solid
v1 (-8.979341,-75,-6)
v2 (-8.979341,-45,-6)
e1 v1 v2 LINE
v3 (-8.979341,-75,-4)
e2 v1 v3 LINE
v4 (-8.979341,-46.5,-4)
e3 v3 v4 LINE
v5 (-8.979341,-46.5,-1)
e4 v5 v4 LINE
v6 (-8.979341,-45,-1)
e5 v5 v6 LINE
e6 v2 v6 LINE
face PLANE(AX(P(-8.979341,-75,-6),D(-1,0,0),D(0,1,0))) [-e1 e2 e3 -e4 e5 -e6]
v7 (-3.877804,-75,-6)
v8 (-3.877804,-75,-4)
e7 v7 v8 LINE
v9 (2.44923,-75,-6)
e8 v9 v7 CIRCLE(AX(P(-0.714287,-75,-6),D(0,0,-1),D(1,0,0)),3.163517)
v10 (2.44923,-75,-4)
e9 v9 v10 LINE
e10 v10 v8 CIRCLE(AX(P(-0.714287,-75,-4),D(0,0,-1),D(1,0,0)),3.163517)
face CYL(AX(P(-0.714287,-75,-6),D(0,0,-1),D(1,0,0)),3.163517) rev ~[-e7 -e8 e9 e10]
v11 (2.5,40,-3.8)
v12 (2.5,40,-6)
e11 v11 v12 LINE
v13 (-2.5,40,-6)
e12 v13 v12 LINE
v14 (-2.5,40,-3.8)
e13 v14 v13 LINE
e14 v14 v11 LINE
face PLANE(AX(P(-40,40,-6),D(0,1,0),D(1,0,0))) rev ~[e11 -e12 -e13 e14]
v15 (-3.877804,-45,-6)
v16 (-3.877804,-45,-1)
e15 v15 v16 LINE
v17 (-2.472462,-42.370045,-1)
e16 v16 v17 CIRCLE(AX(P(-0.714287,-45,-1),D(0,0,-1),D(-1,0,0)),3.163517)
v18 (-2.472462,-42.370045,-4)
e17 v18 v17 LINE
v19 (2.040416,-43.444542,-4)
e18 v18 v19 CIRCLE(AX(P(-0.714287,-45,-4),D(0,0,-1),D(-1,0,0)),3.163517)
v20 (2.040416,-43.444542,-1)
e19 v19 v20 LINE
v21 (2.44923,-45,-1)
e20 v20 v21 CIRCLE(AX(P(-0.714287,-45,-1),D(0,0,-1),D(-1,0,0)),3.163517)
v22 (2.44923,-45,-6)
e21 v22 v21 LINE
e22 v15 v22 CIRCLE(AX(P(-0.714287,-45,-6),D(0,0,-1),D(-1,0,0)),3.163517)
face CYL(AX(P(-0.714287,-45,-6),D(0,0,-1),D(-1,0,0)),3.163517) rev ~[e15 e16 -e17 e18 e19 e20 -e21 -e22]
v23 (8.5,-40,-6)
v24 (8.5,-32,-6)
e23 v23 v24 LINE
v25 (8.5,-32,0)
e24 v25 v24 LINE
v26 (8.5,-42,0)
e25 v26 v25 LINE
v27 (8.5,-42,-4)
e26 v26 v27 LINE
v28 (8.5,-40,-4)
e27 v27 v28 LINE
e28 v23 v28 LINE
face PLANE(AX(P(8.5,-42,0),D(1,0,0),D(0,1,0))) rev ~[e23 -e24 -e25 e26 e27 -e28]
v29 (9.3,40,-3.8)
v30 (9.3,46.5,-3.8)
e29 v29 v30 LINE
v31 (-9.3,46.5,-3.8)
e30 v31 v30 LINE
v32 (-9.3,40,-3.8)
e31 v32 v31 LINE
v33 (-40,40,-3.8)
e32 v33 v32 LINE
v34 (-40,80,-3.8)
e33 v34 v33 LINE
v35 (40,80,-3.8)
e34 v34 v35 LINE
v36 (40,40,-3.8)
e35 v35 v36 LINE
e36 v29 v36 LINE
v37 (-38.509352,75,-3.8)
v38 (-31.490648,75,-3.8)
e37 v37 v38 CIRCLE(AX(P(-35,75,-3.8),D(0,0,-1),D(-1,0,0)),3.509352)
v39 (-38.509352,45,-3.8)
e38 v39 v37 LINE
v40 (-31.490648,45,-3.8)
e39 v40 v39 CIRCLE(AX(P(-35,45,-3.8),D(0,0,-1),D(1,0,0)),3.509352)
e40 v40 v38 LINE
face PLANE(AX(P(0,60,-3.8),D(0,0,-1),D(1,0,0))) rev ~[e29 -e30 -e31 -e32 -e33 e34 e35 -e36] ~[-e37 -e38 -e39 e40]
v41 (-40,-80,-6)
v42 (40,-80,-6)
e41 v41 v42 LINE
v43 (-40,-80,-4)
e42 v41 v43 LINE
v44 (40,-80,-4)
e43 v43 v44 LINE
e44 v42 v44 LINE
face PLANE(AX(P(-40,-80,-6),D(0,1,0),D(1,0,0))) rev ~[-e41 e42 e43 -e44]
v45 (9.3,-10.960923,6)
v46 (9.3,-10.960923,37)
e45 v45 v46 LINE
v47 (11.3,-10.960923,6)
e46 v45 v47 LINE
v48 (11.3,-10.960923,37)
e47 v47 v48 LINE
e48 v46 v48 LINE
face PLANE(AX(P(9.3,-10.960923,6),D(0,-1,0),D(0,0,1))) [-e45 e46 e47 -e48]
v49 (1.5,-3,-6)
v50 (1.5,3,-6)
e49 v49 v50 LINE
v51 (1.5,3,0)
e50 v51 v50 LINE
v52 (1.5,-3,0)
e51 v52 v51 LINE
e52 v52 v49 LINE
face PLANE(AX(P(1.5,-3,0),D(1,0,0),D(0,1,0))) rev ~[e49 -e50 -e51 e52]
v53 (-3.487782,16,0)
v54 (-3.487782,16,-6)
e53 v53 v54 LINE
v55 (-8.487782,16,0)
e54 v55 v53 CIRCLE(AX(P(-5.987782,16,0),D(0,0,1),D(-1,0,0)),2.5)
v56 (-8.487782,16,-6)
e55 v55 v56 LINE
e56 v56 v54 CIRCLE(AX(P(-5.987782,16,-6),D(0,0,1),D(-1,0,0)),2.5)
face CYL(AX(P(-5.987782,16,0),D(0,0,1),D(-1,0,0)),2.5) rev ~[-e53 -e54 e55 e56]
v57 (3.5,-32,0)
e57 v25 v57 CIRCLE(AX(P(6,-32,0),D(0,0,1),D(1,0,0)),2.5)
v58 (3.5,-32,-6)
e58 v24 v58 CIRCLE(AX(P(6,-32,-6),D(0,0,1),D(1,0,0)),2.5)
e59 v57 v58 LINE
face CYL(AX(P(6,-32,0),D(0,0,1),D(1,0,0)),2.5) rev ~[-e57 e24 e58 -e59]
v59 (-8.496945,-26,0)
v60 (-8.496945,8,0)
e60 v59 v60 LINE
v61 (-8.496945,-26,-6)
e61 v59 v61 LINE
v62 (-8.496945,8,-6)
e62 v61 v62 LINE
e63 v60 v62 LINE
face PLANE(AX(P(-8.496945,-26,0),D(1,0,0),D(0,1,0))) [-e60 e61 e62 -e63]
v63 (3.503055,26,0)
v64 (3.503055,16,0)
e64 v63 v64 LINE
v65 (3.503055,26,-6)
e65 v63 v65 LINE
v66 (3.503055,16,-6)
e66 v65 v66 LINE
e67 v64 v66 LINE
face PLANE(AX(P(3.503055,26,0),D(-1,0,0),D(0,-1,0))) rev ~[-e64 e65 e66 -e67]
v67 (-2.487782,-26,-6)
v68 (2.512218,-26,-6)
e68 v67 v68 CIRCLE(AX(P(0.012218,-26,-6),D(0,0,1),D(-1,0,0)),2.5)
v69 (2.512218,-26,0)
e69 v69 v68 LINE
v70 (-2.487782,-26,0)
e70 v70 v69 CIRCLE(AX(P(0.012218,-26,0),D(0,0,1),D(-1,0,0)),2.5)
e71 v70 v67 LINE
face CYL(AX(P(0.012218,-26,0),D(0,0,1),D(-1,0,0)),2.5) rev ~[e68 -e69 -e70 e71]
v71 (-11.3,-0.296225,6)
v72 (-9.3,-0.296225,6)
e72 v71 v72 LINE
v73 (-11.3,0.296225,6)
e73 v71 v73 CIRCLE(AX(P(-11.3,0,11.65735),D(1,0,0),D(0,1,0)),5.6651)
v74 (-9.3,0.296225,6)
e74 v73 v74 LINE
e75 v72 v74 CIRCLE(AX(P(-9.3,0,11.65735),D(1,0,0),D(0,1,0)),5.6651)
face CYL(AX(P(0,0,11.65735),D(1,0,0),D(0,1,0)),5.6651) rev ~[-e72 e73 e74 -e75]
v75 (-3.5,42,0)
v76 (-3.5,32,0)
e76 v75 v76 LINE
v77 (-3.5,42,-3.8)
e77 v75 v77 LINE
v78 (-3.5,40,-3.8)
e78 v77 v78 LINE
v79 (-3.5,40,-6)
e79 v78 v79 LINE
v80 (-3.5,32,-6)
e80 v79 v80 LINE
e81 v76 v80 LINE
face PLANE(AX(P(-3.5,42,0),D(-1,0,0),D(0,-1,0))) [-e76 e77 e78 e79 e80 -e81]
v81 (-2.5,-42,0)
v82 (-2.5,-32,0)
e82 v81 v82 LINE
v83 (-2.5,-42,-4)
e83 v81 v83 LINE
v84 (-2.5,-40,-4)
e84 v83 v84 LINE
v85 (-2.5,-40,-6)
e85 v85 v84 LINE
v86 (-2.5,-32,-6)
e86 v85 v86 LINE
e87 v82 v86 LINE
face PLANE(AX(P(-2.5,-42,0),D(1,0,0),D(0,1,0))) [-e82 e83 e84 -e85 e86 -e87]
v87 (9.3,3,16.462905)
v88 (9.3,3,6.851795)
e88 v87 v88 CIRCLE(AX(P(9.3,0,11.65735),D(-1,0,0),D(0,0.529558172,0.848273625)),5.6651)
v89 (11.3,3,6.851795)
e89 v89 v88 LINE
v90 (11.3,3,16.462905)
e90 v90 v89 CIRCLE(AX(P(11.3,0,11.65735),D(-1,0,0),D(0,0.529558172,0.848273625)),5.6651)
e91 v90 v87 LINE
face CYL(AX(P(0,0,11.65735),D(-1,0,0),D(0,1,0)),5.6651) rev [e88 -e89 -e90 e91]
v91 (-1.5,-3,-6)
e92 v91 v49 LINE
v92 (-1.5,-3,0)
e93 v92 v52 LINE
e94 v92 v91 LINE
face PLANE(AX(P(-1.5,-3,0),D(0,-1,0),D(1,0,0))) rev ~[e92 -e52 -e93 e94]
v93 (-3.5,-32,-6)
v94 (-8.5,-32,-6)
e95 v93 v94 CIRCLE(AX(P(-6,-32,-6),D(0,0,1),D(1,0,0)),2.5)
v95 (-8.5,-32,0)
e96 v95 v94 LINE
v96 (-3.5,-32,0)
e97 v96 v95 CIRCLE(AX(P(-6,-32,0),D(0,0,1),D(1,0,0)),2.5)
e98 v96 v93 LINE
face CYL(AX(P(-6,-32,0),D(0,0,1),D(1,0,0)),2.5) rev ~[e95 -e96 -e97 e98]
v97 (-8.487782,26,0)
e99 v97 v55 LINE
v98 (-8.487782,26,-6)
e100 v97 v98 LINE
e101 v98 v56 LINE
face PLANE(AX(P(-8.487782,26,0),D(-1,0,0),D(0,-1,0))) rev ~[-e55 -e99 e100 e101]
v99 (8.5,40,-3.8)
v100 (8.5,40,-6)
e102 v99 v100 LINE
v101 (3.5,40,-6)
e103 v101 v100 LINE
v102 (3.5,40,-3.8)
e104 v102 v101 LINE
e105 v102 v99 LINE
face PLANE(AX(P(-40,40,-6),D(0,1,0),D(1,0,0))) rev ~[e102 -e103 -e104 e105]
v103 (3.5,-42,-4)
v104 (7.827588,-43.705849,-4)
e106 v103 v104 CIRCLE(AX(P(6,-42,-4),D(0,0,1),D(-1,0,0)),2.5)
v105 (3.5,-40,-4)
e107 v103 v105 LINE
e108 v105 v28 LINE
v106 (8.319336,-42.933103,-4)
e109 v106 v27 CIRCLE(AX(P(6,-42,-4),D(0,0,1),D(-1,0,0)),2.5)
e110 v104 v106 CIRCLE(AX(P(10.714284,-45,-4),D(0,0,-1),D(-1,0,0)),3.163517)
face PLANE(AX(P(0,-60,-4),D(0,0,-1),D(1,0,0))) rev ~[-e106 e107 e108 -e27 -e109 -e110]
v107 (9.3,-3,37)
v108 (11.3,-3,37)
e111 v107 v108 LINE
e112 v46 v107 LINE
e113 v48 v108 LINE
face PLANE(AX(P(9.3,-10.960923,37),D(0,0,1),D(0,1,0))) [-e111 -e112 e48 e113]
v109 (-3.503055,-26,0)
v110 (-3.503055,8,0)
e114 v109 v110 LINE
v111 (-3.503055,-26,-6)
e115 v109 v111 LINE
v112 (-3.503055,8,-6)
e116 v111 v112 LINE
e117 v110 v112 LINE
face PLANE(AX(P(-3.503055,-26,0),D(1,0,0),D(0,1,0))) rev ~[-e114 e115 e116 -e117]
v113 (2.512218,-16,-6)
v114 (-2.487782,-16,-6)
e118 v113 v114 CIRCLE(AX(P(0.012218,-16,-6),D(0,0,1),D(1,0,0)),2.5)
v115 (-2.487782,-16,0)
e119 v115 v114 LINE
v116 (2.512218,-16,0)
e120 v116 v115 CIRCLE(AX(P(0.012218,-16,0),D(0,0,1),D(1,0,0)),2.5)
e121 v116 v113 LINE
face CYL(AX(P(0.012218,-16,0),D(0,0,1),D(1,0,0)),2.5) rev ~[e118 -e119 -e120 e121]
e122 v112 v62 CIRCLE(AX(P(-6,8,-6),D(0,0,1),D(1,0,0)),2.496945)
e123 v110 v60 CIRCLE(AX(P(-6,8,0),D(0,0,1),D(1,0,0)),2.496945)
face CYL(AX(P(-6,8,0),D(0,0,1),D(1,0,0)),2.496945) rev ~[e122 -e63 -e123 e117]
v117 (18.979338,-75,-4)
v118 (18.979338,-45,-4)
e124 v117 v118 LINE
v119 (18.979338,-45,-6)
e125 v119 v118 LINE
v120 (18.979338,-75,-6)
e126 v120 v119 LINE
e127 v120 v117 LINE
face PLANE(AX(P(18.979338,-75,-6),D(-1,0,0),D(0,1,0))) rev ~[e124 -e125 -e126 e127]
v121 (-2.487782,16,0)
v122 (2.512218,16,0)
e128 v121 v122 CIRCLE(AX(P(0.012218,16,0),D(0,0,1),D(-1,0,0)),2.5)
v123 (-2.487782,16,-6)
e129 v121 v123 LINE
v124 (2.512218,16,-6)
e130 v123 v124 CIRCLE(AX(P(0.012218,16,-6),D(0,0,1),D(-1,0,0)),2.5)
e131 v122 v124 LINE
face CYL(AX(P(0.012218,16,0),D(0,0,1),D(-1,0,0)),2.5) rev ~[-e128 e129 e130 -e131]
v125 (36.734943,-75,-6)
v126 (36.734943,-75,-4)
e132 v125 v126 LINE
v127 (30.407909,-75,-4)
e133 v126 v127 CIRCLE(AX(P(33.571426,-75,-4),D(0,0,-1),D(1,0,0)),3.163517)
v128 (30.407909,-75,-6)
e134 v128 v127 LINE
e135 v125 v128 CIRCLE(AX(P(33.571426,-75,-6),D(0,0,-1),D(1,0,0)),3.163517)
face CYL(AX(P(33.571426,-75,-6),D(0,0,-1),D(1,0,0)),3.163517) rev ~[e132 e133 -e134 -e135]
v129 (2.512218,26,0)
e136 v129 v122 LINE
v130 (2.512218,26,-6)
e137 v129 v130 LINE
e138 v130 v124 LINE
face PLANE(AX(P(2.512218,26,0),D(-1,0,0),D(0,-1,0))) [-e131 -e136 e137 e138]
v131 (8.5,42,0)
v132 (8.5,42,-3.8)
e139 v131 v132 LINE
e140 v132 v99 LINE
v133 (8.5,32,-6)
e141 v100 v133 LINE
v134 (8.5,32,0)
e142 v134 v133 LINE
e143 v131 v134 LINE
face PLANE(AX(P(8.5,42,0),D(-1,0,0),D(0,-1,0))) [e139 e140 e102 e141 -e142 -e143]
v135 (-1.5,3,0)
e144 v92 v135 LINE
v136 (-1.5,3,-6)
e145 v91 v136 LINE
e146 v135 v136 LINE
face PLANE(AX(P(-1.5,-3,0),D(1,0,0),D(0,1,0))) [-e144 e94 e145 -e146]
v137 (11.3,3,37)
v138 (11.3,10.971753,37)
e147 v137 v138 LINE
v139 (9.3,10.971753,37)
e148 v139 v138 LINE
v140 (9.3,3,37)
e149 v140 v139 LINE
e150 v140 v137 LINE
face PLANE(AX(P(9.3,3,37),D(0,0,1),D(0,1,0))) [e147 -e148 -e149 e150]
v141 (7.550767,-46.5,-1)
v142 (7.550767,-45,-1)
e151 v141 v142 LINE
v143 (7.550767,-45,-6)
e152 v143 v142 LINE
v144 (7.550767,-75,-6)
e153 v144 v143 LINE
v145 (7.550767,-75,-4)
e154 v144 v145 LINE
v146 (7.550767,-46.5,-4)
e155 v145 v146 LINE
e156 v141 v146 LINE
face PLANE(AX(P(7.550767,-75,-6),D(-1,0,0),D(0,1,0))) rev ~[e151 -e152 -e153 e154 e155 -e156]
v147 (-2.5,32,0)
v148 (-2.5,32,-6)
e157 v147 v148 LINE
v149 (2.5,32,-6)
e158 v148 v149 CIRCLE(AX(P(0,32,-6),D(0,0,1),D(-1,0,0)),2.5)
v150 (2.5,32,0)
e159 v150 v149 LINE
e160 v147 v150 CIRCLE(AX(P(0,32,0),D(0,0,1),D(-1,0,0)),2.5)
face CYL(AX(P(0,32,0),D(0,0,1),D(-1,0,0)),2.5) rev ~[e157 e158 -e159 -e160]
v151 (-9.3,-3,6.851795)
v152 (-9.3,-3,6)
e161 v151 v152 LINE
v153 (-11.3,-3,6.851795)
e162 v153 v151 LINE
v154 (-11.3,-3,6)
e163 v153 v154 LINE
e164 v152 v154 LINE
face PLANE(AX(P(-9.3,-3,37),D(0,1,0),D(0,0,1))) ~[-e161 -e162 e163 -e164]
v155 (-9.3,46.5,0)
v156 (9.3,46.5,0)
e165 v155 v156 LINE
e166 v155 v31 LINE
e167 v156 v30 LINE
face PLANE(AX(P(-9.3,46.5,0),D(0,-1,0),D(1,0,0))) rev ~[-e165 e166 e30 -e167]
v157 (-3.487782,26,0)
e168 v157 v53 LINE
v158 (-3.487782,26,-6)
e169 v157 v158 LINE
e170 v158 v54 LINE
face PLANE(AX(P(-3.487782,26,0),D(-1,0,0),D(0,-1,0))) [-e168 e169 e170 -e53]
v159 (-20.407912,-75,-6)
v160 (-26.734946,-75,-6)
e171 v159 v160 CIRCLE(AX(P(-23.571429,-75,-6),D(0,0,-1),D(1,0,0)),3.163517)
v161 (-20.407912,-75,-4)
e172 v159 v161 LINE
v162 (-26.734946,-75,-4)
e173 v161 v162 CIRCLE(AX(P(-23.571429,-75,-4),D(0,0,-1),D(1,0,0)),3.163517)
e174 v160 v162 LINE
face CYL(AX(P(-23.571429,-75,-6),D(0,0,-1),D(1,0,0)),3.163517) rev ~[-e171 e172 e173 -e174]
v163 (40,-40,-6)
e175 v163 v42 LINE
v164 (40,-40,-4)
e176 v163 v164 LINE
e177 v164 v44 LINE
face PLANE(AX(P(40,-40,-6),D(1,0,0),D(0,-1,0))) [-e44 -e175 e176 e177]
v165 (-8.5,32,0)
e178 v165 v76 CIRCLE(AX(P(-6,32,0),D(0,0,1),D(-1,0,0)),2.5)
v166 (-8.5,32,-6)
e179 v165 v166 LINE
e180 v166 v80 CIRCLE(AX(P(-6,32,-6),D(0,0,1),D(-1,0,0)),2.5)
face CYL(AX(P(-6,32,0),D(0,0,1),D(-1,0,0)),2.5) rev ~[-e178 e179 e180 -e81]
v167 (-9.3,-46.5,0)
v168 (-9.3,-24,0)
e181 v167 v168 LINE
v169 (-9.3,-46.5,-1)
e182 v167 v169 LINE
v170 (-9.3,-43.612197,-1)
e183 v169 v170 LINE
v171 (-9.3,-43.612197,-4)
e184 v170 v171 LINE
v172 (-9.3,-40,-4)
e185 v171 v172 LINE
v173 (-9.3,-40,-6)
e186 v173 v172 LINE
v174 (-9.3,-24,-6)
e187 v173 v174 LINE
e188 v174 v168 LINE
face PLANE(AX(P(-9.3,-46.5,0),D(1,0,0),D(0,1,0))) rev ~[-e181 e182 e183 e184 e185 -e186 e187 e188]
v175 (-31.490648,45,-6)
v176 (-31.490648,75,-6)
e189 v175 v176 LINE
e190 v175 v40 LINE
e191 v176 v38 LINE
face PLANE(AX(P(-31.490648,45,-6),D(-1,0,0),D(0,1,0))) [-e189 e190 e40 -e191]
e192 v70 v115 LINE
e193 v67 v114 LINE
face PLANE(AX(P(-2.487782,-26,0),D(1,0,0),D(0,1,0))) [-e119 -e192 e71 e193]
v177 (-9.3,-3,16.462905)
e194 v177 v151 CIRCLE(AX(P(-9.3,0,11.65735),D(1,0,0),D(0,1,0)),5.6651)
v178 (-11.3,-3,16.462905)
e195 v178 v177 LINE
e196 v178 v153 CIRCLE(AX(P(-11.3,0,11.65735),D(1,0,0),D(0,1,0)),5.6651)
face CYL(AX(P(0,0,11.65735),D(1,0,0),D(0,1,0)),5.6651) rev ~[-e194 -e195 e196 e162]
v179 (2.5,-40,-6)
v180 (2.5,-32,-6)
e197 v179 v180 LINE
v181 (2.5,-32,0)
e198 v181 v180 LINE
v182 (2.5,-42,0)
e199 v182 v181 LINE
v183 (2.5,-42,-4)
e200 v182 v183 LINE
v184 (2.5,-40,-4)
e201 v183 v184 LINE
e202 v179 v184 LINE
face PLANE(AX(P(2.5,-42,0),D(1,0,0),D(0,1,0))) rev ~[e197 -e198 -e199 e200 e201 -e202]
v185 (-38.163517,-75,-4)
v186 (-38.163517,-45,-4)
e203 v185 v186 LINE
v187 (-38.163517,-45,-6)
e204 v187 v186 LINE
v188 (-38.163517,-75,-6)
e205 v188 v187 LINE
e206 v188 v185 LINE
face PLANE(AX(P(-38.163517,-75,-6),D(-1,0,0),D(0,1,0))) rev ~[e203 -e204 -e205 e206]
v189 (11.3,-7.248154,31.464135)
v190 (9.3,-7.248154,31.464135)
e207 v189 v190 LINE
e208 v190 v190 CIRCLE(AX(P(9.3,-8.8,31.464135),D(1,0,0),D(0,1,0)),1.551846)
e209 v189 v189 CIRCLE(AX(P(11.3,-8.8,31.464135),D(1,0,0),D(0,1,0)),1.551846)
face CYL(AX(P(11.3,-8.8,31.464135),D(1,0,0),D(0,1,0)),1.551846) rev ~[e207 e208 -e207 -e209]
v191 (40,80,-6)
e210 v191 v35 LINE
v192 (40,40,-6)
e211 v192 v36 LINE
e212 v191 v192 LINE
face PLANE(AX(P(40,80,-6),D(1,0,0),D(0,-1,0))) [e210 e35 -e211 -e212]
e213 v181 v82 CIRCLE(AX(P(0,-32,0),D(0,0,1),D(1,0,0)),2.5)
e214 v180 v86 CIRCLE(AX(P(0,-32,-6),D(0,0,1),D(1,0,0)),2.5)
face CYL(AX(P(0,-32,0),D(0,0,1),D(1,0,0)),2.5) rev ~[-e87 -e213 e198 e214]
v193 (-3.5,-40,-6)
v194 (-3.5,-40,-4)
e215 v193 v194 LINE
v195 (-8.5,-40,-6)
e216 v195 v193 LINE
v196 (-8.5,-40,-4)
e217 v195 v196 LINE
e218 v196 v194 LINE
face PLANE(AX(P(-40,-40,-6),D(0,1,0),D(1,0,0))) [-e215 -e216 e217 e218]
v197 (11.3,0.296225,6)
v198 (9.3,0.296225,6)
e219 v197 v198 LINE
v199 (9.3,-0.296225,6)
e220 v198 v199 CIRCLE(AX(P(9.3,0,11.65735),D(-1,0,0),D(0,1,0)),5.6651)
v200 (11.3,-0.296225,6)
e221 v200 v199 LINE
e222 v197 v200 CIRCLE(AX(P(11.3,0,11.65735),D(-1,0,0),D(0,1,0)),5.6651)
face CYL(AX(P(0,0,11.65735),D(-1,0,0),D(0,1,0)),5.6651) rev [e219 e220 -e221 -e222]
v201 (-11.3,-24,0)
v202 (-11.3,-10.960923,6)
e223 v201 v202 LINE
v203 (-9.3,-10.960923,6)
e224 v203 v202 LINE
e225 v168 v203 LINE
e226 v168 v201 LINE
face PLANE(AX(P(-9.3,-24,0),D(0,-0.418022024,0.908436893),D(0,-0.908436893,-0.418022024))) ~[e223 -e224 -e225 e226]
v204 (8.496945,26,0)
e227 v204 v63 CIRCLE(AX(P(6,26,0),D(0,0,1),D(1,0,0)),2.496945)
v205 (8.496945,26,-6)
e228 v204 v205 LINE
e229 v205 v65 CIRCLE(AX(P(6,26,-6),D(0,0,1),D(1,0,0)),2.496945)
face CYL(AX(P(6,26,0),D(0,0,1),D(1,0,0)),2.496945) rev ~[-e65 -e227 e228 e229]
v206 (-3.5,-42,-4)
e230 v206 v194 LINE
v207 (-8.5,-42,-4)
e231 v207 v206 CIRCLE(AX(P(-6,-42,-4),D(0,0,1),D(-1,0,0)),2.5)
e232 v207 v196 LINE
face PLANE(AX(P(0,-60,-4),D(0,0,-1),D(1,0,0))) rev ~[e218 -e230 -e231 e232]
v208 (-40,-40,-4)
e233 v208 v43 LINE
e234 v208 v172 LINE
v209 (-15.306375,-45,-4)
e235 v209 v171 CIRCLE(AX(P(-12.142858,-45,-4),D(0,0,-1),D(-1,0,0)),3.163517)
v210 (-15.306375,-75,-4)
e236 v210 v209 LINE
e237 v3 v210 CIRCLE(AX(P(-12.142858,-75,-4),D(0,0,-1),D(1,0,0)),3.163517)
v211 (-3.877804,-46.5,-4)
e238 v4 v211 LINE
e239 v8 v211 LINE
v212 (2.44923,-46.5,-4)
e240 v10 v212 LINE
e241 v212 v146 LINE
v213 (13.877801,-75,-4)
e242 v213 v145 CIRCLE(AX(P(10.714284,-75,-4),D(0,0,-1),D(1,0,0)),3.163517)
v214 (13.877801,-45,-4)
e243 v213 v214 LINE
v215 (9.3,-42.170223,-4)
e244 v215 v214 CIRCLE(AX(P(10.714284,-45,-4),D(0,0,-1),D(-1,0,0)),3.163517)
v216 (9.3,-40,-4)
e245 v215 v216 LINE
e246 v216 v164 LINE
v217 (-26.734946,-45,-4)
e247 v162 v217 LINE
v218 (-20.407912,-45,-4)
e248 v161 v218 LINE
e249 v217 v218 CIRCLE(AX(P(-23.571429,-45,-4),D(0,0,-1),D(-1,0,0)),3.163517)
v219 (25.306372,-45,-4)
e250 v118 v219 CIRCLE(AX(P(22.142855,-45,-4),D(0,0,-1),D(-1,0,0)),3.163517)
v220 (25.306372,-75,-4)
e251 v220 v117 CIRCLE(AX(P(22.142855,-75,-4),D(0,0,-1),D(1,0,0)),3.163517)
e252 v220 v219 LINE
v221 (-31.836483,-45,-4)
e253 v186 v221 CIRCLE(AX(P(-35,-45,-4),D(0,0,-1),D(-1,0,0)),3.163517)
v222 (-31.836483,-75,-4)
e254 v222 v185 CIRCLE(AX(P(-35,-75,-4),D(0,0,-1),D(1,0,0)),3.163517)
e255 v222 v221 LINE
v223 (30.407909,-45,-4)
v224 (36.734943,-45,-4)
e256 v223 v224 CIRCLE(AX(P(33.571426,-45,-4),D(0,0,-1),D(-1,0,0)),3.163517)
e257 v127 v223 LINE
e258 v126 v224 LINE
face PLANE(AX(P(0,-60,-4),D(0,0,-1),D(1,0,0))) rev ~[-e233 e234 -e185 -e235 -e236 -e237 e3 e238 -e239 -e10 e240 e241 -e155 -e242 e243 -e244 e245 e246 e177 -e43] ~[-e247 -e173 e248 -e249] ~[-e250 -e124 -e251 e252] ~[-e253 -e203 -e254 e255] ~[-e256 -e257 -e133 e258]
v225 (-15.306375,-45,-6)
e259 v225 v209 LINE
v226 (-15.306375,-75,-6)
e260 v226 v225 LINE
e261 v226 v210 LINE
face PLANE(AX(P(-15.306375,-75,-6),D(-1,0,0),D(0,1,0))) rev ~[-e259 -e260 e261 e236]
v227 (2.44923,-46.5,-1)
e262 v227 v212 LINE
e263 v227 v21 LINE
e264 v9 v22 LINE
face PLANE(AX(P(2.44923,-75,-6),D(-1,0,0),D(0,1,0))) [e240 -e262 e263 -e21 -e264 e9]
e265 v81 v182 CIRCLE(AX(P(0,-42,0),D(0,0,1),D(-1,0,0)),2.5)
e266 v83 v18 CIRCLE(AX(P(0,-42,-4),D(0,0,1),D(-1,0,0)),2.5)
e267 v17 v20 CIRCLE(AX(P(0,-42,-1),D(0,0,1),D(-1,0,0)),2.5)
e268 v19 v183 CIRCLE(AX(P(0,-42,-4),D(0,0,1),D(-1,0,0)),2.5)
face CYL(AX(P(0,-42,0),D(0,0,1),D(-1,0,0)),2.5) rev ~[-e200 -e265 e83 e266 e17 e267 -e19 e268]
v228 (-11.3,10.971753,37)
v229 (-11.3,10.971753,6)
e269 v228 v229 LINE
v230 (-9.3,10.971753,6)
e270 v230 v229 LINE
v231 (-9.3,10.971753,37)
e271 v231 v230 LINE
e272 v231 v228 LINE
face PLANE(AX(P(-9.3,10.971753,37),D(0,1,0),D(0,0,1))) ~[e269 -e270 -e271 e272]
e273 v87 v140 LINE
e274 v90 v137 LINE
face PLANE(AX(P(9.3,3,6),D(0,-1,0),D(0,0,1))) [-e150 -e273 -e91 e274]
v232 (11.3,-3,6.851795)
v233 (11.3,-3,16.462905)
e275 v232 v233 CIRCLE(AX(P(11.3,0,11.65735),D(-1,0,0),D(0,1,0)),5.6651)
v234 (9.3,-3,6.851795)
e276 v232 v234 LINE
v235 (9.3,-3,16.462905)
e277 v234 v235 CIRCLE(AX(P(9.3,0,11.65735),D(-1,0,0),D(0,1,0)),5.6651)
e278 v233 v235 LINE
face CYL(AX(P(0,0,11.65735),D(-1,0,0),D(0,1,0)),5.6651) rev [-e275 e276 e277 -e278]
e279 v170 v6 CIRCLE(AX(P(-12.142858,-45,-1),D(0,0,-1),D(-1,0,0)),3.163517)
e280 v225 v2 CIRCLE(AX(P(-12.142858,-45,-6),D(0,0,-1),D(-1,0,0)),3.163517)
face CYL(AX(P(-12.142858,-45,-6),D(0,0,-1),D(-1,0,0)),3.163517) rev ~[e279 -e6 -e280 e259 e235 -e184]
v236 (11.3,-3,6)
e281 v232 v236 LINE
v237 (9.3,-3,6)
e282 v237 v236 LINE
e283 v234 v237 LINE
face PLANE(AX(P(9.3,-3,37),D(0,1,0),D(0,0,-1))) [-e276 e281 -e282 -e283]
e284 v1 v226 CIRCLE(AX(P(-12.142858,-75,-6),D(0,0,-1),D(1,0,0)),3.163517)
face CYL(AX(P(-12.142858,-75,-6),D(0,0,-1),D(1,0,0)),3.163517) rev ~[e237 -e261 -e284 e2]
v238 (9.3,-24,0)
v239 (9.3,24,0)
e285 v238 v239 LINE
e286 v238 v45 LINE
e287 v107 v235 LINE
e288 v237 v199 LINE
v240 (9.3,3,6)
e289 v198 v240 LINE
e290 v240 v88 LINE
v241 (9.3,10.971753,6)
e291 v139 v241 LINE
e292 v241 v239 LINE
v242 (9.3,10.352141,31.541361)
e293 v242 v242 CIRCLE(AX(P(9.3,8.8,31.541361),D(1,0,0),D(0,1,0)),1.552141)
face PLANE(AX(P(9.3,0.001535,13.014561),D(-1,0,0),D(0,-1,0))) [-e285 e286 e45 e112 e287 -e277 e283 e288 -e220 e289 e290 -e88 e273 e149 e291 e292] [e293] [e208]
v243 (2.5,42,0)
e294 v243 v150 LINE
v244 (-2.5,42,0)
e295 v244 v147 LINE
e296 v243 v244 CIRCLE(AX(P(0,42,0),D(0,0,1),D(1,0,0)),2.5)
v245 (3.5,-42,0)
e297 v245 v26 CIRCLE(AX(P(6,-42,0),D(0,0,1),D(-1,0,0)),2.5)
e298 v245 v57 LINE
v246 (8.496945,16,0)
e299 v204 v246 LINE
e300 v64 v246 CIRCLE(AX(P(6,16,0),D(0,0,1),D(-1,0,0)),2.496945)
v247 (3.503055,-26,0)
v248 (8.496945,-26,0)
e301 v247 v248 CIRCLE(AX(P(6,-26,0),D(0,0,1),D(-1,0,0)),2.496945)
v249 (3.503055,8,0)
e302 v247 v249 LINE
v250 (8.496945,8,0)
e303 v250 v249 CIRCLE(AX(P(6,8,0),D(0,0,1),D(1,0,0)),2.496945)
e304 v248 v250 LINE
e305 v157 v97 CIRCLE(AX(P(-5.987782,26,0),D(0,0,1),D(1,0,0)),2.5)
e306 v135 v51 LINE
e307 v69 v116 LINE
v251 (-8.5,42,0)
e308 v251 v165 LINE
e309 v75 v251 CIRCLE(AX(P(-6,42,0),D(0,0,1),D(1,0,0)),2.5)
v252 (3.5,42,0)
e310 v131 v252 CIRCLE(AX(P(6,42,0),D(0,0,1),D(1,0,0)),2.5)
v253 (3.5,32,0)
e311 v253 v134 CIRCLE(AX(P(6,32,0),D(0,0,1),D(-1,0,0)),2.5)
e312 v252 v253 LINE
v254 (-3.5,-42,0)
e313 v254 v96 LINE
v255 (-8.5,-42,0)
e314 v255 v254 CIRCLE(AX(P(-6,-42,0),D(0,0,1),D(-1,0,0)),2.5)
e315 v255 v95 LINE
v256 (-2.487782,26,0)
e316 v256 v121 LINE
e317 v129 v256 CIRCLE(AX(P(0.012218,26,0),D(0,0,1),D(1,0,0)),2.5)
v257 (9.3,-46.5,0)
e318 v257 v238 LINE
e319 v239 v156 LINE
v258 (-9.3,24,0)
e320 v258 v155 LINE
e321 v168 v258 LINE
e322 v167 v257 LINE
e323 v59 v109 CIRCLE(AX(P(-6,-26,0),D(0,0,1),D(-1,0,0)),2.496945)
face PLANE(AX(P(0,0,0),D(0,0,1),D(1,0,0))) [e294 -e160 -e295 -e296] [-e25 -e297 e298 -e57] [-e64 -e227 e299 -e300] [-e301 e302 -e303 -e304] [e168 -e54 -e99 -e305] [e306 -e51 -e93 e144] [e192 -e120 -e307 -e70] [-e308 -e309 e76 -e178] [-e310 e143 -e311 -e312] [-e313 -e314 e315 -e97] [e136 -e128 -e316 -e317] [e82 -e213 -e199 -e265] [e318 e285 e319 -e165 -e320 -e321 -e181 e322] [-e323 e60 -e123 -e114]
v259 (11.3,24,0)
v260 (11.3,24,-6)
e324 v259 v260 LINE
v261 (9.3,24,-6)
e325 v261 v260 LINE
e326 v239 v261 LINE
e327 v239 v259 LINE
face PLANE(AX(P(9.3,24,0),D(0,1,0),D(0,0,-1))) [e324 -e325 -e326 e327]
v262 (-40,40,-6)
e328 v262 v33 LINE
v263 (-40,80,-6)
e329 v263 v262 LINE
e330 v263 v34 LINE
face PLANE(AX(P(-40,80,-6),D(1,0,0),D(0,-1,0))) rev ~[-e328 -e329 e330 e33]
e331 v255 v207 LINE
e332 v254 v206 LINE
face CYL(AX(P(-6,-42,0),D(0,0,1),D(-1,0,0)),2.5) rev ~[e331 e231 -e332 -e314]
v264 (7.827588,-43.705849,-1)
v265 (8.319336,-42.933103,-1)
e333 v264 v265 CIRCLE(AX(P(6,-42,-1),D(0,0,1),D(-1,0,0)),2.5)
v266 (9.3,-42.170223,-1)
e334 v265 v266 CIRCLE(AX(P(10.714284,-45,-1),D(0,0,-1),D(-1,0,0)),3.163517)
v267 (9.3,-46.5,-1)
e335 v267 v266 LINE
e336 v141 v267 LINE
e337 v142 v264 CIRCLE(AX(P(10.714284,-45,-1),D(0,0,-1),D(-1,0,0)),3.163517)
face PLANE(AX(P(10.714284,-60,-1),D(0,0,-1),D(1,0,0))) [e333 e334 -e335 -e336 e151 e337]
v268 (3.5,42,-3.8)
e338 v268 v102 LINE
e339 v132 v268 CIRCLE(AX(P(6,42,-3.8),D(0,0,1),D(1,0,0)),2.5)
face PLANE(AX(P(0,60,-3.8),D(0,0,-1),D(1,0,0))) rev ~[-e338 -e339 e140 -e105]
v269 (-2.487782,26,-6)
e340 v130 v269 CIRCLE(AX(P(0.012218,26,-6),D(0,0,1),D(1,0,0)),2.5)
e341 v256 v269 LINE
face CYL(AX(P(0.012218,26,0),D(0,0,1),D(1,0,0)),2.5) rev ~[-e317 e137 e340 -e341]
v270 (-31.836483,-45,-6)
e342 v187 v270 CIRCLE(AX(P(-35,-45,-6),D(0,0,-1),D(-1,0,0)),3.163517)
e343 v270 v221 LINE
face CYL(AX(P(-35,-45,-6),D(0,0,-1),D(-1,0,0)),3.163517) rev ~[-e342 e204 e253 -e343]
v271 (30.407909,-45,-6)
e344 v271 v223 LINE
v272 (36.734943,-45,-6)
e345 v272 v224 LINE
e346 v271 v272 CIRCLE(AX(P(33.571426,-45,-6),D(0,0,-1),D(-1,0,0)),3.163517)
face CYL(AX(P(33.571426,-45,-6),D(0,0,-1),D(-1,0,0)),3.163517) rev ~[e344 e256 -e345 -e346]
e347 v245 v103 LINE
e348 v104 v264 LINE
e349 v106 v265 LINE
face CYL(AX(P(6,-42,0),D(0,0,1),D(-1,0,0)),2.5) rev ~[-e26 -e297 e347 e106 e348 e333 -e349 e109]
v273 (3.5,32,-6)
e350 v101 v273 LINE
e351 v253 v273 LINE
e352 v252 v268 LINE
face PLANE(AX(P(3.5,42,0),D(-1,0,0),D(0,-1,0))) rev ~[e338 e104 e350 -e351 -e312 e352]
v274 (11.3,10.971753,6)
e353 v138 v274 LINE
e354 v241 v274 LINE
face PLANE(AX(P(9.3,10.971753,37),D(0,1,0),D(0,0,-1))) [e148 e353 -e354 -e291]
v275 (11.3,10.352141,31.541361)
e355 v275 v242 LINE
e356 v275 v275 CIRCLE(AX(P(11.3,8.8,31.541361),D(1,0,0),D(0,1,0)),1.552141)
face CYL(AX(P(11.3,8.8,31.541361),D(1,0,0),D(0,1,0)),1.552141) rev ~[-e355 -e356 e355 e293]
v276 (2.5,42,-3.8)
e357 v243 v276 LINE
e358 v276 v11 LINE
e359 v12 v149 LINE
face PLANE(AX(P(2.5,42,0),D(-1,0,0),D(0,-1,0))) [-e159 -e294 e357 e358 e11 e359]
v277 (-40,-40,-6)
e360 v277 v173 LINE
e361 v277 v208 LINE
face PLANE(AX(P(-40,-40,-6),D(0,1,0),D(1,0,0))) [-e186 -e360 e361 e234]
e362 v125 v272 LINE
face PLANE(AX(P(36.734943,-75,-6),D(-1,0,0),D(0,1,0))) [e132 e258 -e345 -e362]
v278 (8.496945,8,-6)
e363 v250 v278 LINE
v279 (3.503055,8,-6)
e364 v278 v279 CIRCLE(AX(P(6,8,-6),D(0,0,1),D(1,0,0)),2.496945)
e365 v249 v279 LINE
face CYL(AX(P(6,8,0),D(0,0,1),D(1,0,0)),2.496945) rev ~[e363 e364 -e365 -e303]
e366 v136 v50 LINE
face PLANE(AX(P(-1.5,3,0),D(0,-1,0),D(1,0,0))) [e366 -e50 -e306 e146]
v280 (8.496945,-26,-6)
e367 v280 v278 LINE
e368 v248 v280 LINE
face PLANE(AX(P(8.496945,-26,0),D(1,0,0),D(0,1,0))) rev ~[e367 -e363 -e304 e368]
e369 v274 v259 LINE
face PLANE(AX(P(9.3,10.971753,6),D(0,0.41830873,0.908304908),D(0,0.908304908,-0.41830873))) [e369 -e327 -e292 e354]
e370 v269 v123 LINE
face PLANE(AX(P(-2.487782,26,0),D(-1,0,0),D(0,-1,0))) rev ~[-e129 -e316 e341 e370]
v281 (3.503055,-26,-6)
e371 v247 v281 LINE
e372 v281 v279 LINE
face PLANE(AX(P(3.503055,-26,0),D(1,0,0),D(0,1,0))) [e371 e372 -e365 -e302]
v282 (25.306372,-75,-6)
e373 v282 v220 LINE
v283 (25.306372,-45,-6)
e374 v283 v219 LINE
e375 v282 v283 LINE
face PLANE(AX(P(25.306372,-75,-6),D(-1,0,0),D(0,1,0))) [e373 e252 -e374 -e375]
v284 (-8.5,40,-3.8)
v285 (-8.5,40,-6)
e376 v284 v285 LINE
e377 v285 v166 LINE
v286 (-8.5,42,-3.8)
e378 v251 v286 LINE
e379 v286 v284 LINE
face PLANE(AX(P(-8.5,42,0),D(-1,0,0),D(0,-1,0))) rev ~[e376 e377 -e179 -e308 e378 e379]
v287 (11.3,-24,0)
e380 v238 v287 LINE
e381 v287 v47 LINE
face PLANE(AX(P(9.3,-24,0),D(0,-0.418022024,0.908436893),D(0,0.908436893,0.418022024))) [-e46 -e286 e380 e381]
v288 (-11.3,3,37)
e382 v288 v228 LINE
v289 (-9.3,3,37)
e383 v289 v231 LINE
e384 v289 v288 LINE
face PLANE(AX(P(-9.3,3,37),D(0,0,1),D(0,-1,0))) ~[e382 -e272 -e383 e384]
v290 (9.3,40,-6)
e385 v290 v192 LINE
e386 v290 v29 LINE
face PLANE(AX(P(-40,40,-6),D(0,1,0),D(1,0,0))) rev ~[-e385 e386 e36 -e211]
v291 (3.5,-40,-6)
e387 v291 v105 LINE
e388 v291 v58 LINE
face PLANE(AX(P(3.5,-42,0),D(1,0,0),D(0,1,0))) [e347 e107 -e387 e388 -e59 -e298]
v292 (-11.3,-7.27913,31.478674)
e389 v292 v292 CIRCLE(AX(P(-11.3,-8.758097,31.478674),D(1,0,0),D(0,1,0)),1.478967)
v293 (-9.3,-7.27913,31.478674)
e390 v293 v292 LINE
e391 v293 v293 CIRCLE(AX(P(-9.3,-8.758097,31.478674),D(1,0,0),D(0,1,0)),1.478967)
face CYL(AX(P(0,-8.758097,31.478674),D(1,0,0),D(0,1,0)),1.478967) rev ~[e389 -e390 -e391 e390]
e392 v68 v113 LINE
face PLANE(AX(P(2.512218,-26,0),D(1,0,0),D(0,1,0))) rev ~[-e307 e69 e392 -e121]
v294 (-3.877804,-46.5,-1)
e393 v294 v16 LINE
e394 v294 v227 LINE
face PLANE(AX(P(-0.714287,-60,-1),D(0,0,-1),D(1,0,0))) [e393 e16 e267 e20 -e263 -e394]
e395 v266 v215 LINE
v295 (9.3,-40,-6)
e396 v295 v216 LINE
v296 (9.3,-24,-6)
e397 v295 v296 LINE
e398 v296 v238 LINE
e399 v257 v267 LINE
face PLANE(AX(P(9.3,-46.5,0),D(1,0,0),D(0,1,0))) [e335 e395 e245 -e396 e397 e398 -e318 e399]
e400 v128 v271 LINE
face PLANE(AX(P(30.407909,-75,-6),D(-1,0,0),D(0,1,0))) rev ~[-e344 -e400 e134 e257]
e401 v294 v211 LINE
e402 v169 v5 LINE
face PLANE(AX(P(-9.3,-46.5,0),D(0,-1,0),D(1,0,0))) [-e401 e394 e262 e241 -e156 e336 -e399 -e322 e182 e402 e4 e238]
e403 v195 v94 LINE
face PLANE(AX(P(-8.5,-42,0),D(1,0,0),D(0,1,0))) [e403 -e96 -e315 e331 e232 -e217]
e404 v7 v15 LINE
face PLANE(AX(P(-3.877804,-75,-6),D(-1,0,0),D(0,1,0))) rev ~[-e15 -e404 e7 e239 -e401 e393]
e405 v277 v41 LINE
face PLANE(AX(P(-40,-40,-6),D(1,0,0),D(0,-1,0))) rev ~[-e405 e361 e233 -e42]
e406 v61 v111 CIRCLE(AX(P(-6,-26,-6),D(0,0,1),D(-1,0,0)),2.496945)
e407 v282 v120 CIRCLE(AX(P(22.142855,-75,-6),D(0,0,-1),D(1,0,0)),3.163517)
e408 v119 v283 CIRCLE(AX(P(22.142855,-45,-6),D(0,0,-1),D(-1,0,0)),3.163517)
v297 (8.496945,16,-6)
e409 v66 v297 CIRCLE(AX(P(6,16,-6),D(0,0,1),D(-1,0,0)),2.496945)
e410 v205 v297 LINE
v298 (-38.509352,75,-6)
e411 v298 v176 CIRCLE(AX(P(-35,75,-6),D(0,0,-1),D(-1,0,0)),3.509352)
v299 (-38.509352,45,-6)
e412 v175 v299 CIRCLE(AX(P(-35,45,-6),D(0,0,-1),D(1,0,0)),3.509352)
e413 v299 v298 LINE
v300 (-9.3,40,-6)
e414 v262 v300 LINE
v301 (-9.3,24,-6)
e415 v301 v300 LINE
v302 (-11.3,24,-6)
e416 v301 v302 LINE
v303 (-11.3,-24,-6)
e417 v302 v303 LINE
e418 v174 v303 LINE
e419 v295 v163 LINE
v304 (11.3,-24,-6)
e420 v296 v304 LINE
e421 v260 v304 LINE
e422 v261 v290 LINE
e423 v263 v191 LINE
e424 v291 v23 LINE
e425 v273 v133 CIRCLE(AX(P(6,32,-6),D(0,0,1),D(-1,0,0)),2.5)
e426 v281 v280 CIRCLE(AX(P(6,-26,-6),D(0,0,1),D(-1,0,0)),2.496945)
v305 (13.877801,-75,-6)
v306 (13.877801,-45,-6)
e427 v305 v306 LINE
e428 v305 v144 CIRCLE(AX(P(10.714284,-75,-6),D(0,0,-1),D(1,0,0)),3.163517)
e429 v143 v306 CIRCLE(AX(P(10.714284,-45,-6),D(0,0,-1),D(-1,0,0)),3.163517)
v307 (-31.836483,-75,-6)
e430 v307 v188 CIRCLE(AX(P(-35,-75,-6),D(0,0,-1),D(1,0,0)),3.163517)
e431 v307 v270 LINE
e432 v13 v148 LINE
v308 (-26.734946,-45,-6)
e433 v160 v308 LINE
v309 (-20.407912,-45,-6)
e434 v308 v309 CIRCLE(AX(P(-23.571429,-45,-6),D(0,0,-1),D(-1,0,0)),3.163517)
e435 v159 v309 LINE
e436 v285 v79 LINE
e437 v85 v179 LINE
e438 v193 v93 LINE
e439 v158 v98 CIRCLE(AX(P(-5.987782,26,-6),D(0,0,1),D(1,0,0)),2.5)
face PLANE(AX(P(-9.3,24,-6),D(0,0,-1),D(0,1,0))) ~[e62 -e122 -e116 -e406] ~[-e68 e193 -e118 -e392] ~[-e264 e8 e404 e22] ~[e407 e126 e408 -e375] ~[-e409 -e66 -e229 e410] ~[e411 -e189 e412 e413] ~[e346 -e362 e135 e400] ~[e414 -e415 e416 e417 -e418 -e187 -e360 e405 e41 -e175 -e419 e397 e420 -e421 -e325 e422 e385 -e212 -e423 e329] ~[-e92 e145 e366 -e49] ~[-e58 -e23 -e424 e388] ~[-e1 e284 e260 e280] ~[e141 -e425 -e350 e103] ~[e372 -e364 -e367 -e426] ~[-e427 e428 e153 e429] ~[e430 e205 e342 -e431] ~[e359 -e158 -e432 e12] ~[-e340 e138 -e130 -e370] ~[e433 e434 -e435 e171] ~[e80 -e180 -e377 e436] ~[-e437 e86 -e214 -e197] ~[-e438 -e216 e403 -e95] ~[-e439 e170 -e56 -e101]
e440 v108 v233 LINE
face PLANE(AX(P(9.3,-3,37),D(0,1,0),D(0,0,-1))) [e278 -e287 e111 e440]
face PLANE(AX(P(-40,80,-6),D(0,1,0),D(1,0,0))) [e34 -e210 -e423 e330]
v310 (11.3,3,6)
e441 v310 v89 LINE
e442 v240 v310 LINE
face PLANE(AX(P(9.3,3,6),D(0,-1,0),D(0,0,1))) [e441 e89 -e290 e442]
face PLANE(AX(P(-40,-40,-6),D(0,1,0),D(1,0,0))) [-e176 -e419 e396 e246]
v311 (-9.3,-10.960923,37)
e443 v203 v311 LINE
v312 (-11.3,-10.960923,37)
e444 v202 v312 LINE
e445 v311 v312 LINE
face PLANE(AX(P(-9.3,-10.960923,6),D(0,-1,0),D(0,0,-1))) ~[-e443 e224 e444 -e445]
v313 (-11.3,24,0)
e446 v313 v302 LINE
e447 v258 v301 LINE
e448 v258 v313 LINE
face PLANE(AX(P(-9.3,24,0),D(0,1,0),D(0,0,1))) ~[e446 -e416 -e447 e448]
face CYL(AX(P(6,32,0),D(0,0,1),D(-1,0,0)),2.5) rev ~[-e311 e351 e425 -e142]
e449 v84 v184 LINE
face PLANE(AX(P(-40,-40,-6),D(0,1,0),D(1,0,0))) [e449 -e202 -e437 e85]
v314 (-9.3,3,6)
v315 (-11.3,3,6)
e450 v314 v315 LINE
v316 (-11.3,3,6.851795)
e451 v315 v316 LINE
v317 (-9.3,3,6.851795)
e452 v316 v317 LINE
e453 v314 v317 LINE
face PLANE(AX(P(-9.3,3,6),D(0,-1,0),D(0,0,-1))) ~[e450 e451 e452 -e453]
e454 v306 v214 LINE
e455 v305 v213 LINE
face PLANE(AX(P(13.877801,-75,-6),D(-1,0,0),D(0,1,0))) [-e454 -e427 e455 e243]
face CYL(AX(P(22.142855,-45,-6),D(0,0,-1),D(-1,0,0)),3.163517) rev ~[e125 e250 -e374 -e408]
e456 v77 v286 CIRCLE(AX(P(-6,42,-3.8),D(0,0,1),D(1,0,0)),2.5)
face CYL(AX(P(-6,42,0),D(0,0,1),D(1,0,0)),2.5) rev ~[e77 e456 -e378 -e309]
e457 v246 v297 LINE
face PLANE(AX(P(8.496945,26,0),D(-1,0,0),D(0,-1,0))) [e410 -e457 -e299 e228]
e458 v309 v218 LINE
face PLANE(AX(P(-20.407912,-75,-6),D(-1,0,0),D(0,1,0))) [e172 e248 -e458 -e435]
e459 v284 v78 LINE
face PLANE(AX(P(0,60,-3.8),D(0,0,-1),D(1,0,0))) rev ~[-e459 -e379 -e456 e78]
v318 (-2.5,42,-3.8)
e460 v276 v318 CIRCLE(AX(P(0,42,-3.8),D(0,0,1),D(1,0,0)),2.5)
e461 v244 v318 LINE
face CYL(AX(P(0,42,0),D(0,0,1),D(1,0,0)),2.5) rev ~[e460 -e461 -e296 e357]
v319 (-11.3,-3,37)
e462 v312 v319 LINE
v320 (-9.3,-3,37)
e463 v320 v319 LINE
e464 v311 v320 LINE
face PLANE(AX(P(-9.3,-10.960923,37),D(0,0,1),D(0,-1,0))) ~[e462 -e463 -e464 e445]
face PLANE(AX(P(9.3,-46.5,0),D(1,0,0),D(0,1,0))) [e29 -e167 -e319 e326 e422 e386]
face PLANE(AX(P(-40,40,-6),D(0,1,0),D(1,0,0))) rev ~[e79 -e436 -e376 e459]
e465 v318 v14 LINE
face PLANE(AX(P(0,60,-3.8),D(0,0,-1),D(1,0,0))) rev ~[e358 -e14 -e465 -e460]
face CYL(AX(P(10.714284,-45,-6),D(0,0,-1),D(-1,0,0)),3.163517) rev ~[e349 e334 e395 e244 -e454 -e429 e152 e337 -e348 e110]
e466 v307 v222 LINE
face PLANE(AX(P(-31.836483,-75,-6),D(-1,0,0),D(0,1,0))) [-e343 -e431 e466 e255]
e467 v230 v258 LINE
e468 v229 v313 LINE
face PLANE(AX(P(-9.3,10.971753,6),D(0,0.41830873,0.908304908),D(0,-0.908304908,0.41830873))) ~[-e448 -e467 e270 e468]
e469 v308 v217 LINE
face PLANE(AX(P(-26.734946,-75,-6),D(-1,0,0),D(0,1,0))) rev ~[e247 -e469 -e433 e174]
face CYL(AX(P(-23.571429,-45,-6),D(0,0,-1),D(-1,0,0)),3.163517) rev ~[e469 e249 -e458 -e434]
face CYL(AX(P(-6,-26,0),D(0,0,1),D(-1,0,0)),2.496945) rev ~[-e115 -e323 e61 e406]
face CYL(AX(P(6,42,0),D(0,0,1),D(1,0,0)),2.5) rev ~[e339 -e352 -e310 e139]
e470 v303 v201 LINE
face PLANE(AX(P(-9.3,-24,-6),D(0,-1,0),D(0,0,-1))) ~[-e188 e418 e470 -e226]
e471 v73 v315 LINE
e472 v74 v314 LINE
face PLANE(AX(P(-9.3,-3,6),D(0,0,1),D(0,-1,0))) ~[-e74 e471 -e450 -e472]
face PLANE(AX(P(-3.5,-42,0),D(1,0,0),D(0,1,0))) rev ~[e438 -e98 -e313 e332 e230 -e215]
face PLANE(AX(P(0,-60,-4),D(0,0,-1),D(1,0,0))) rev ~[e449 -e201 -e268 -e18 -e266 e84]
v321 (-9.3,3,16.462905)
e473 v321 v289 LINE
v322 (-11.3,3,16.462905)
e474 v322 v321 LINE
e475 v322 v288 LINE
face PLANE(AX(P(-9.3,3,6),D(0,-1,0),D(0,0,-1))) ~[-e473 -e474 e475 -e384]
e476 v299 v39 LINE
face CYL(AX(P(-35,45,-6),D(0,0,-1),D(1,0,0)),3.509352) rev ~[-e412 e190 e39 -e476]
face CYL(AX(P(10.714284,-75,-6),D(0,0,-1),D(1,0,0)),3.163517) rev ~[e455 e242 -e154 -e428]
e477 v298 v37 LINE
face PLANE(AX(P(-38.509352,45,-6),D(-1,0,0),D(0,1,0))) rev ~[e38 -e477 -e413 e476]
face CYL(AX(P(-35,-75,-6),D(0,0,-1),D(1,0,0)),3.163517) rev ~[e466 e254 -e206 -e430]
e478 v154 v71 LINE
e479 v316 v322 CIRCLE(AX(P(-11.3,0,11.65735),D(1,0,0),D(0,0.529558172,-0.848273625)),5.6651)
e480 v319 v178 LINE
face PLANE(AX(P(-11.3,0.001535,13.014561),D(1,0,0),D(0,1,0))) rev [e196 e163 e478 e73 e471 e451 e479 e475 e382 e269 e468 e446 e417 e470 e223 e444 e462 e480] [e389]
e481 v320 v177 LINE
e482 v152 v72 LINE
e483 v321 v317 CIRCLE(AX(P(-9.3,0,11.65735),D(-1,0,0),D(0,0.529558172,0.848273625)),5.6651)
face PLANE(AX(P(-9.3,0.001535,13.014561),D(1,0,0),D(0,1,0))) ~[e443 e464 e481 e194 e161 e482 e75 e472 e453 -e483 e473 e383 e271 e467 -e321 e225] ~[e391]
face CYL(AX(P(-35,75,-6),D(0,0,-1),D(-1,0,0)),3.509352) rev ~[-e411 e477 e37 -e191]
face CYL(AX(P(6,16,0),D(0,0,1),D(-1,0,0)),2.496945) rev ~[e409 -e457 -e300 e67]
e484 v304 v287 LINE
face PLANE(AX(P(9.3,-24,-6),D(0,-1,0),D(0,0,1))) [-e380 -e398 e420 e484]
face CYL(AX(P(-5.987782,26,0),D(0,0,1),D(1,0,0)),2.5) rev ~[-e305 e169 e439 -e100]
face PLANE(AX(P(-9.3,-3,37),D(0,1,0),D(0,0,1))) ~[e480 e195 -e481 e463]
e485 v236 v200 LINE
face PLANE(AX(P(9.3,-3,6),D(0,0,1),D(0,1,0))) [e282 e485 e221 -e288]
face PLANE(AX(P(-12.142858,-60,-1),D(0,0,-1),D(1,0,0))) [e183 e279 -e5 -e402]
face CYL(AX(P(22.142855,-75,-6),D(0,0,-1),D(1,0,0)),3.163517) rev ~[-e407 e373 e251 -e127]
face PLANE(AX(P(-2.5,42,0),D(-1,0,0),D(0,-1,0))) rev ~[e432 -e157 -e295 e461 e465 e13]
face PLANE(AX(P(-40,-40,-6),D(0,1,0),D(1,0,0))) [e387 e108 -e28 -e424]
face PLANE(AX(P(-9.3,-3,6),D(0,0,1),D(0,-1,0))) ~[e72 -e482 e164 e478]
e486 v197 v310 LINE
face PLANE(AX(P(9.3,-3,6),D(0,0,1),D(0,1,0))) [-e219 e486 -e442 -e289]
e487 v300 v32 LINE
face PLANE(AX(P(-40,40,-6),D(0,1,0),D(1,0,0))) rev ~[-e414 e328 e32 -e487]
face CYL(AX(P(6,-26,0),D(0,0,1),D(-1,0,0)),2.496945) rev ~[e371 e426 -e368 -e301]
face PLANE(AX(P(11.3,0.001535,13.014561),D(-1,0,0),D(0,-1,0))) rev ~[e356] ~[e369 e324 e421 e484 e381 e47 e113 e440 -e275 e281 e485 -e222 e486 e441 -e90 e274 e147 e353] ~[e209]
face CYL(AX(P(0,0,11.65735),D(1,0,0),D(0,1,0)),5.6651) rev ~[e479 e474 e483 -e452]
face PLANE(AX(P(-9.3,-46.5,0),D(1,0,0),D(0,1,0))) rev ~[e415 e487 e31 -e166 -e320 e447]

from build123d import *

# Parameters (mm, degrees)
SKETCH_W             = 18.6
SKETCH_H             = 93
PAD_DEPTH            = 6
SKETCH001_W          = 3
SKETCH001_H          = 6
POCKET_DEPTH         = 6
POCKET001_DEPTH      = 8
PAD001_DEPTH         = 2
SKETCH004_R          = 1.551846
SKETCH004_R_2        = 1.552141
POCKET002_DEPTH      = 20.601
SKETCH005_W          = 80
SKETCH005_H          = 40
PAD002_DEPTH         = 2
POCKET003_DEPTH      = 5
LINEARPATTERN_COUNT  = 8
LINEARPATTERN_PITCH  = 11.428571
SKETCH007_W          = 80
SKETCH007_H          = 40
PAD003_DEPTH         = 2.2
POCKET004_DEPTH      = 5
SKETCH009_R          = 5.6651
SKETCH009_R_2        = 1.478967
POCKET005_DEPTH      = 15
POCKET005_DEPTH_BACK = -15


with BuildPart() as part:
    # Sketch → Pad (new body)
    with BuildSketch(Plane.XY):
        Rectangle(SKETCH_W, SKETCH_H)
    extrude(amount=-PAD_DEPTH)

    # Sketch001 (on Face5 of Pad) → Pocket (cut)
    with BuildSketch(Plane.XY):
        Rectangle(SKETCH001_W, SKETCH001_H)
    extrude(amount=-POCKET_DEPTH, mode=Mode.SUBTRACT)

    # Sketch002 (on Face4 of Pocket) → Pocket001 (cut)
    with BuildSketch(Plane.XY):
        with BuildLine():
            ThreePointArc((-2.5, -42), (0, -44.5), (2.5, -42))
            Line((2.5, -42), (2.5, -32))
            ThreePointArc((2.5, -32), (0, -29.5), (-2.5, -32))
            Line((-2.5, -42), (-2.5, -32))
        make_face()
        with BuildLine():
            ThreePointArc((-8.5, -42), (-6, -44.5), (-3.5, -42))
            Line((-3.5, -42), (-3.5, -32))
            ThreePointArc((-3.5, -32), (-6, -29.5), (-8.5, -32))
            Line((-8.5, -42), (-8.5, -32))
        make_face()
        with BuildLine():
            ThreePointArc((3.5, -42), (6, -44.5), (8.5, -42))
            Line((8.5, -42), (8.5, -32))
            ThreePointArc((8.5, -32), (6, -29.5), (3.5, -32))
            Line((3.5, -42), (3.5, -32))
        make_face()
        with BuildLine():
            ThreePointArc((-2.487782, -26), (0.012218, -28.5), (2.512218, -26))
            Line((2.512218, -26), (2.512218, -16))
            ThreePointArc((2.512218, -16), (0.012218, -13.5), (-2.487782, -16))
            Line((-2.487782, -26), (-2.487782, -16))
        make_face()
        with BuildLine():
            ThreePointArc((-8.496945, -26), (-6, -28.496945), (-3.503055, -26))
            Line((-3.503055, -26), (-3.503055, 8))
            ThreePointArc((-3.503055, 8), (-6, 10.496945), (-8.496945, 8))
            Line((-8.496945, -26), (-8.496945, 8))
        make_face()
        with BuildLine():
            ThreePointArc((3.503055, -26), (6, -28.496945), (8.496945, -26))
            Line((8.496945, -26), (8.496945, 8))
            ThreePointArc((8.496945, 8), (6, 10.496945), (3.503055, 8))
            Line((3.503055, -26), (3.503055, 8))
        make_face()
        with BuildLine():
            ThreePointArc((2.5, 42), (0, 44.5), (-2.5, 42))
            Line((-2.5, 42), (-2.5, 32))
            ThreePointArc((-2.5, 32), (0, 29.5), (2.5, 32))
            Line((2.5, 42), (2.5, 32))
        make_face()
        with BuildLine():
            ThreePointArc((-3.5, 42), (-6, 44.5), (-8.5, 42))
            Line((-8.5, 42), (-8.5, 32))
            ThreePointArc((-8.5, 32), (-6, 29.5), (-3.5, 32))
            Line((-3.5, 42), (-3.5, 32))
        make_face()
        with BuildLine():
            ThreePointArc((8.5, 42), (6, 44.5), (3.5, 42))
            Line((3.5, 42), (3.5, 32))
            ThreePointArc((3.5, 32), (6, 29.5), (8.5, 32))
            Line((8.5, 42), (8.5, 32))
        make_face()
        with BuildLine():
            ThreePointArc((2.512218, 26), (0.012218, 28.5), (-2.487782, 26))
            Line((-2.487782, 26), (-2.487782, 16))
            ThreePointArc((-2.487782, 16), (0.012218, 13.5), (2.512218, 16))
            Line((2.512218, 26), (2.512218, 16))
        make_face()
        with BuildLine():
            ThreePointArc((-3.487782, 26), (-5.987782, 28.5), (-8.487782, 26))
            Line((-8.487782, 26), (-8.487782, 16))
            ThreePointArc((-8.487782, 16), (-5.987782, 13.5), (-3.487782, 16))
            Line((-3.487782, 26), (-3.487782, 16))
        make_face()
        with BuildLine():
            ThreePointArc((8.496945, 26), (6, 28.496945), (3.503055, 26))
            Line((3.503055, 26), (3.503055, 16))
            ThreePointArc((3.503055, 16), (6, 13.503055), (8.496945, 16))
            Line((8.496945, 26), (8.496945, 16))
        make_face()
    extrude(amount=-POCKET001_DEPTH, mode=Mode.SUBTRACT)

    # Sketch003 (on Face3 of Pocket001) → Pad001 (join)
    with BuildSketch(Plane.YZ.offset(9.3)):
        Polygon((-24, -6), (-24, 0), (-10.960923, 6), (-10.960923, 37), (-3, 37), (-3, 6), (3, 6), (3, 37), (10.971753, 37), (10.971753, 6), (24, 0), (24, -6), align=None)
    pad001 = extrude(amount=PAD001_DEPTH)

    # Sketch004 → Pocket002 (cut, through all)
    with BuildSketch(Plane.YZ.offset(11.3)):
        with Locations((-8.8, 31.464135)):
            Circle(SKETCH004_R)
        with Locations((8.8, 31.541361)):
            Circle(SKETCH004_R_2)
    extrude(amount=-POCKET002_DEPTH, mode=Mode.SUBTRACT)

    # Sketch005 (on Face5 of Pocket002) → Pad002 (join)
    with BuildSketch(Plane(origin=(0, 0, -6), x_dir=(1, 0, 0), z_dir=(0, 0, -1))):
        with Locations((0, 60)):
            Rectangle(SKETCH005_W, SKETCH005_H)
    extrude(amount=-PAD002_DEPTH)

    # Sketch006 (on Face66 of Pad002) → Pocket003 (cut)
    with BuildSketch(Plane(origin=(0, 0, -6), x_dir=(1, 0, 0), z_dir=(0, 0, -1))):
        with BuildLine():
            ThreePointArc((-31.836483, 75), (-35, 78.163517), (-38.163517, 75))
            Line((-38.163517, 75), (-38.163517, 45))
            ThreePointArc((-38.163517, 45), (-35, 41.836483), (-31.836483, 45))
            Line((-31.836483, 75), (-31.836483, 45))
        make_face()
    pocket003 = extrude(amount=-POCKET003_DEPTH, mode=Mode.SUBTRACT)

    # LinearPattern: Pocket003 ×8
    with Locations(*[(i * LINEARPATTERN_PITCH, 0, 0) for i in range(1, LINEARPATTERN_COUNT)]):
        add(pocket003, mode=Mode.SUBTRACT)

    # Sketch007 (on Face5 of LinearPattern) → Pad003 (join)
    with BuildSketch(Plane(origin=(0, 0, -6), x_dir=(1, 0, 0), z_dir=(0, 0, -1))):
        with Locations((0, -60)):
            Rectangle(SKETCH007_W, SKETCH007_H)
    extrude(amount=-PAD003_DEPTH)

    # Sketch008 (on Face111 of Pad003) → Pocket004 (cut)
    with BuildSketch(Plane(origin=(0, 0, -6), x_dir=(1, 0, 0), z_dir=(0, 0, -1))):
        with BuildLine():
            ThreePointArc((-31.490648, -45), (-35, -41.490648), (-38.509352, -45))
            Line((-38.509352, -45), (-38.509352, -75))
            ThreePointArc((-38.509352, -75), (-35, -78.509352), (-31.490648, -75))
            Line((-31.490648, -45), (-31.490648, -75))
        make_face()
    extrude(amount=-POCKET004_DEPTH, mode=Mode.SUBTRACT)

    # Mirrored: Pad001 across YZ
    add(pad001.mirror(Plane.YZ))

    # Sketch009 → Pocket005 (cut, two sides)
    with BuildSketch(Plane.YZ) as pocket005_sk:
        with Locations((0, 11.65735)):
            Circle(SKETCH009_R)
        with Locations((-8.758097, 31.478674)):
            Circle(SKETCH009_R_2)
    extrude(amount=-POCKET005_DEPTH, mode=Mode.SUBTRACT)
    extrude(pocket005_sk.sketch, amount=-POCKET005_DEPTH_BACK, mode=Mode.SUBTRACT)


solid = part.part
